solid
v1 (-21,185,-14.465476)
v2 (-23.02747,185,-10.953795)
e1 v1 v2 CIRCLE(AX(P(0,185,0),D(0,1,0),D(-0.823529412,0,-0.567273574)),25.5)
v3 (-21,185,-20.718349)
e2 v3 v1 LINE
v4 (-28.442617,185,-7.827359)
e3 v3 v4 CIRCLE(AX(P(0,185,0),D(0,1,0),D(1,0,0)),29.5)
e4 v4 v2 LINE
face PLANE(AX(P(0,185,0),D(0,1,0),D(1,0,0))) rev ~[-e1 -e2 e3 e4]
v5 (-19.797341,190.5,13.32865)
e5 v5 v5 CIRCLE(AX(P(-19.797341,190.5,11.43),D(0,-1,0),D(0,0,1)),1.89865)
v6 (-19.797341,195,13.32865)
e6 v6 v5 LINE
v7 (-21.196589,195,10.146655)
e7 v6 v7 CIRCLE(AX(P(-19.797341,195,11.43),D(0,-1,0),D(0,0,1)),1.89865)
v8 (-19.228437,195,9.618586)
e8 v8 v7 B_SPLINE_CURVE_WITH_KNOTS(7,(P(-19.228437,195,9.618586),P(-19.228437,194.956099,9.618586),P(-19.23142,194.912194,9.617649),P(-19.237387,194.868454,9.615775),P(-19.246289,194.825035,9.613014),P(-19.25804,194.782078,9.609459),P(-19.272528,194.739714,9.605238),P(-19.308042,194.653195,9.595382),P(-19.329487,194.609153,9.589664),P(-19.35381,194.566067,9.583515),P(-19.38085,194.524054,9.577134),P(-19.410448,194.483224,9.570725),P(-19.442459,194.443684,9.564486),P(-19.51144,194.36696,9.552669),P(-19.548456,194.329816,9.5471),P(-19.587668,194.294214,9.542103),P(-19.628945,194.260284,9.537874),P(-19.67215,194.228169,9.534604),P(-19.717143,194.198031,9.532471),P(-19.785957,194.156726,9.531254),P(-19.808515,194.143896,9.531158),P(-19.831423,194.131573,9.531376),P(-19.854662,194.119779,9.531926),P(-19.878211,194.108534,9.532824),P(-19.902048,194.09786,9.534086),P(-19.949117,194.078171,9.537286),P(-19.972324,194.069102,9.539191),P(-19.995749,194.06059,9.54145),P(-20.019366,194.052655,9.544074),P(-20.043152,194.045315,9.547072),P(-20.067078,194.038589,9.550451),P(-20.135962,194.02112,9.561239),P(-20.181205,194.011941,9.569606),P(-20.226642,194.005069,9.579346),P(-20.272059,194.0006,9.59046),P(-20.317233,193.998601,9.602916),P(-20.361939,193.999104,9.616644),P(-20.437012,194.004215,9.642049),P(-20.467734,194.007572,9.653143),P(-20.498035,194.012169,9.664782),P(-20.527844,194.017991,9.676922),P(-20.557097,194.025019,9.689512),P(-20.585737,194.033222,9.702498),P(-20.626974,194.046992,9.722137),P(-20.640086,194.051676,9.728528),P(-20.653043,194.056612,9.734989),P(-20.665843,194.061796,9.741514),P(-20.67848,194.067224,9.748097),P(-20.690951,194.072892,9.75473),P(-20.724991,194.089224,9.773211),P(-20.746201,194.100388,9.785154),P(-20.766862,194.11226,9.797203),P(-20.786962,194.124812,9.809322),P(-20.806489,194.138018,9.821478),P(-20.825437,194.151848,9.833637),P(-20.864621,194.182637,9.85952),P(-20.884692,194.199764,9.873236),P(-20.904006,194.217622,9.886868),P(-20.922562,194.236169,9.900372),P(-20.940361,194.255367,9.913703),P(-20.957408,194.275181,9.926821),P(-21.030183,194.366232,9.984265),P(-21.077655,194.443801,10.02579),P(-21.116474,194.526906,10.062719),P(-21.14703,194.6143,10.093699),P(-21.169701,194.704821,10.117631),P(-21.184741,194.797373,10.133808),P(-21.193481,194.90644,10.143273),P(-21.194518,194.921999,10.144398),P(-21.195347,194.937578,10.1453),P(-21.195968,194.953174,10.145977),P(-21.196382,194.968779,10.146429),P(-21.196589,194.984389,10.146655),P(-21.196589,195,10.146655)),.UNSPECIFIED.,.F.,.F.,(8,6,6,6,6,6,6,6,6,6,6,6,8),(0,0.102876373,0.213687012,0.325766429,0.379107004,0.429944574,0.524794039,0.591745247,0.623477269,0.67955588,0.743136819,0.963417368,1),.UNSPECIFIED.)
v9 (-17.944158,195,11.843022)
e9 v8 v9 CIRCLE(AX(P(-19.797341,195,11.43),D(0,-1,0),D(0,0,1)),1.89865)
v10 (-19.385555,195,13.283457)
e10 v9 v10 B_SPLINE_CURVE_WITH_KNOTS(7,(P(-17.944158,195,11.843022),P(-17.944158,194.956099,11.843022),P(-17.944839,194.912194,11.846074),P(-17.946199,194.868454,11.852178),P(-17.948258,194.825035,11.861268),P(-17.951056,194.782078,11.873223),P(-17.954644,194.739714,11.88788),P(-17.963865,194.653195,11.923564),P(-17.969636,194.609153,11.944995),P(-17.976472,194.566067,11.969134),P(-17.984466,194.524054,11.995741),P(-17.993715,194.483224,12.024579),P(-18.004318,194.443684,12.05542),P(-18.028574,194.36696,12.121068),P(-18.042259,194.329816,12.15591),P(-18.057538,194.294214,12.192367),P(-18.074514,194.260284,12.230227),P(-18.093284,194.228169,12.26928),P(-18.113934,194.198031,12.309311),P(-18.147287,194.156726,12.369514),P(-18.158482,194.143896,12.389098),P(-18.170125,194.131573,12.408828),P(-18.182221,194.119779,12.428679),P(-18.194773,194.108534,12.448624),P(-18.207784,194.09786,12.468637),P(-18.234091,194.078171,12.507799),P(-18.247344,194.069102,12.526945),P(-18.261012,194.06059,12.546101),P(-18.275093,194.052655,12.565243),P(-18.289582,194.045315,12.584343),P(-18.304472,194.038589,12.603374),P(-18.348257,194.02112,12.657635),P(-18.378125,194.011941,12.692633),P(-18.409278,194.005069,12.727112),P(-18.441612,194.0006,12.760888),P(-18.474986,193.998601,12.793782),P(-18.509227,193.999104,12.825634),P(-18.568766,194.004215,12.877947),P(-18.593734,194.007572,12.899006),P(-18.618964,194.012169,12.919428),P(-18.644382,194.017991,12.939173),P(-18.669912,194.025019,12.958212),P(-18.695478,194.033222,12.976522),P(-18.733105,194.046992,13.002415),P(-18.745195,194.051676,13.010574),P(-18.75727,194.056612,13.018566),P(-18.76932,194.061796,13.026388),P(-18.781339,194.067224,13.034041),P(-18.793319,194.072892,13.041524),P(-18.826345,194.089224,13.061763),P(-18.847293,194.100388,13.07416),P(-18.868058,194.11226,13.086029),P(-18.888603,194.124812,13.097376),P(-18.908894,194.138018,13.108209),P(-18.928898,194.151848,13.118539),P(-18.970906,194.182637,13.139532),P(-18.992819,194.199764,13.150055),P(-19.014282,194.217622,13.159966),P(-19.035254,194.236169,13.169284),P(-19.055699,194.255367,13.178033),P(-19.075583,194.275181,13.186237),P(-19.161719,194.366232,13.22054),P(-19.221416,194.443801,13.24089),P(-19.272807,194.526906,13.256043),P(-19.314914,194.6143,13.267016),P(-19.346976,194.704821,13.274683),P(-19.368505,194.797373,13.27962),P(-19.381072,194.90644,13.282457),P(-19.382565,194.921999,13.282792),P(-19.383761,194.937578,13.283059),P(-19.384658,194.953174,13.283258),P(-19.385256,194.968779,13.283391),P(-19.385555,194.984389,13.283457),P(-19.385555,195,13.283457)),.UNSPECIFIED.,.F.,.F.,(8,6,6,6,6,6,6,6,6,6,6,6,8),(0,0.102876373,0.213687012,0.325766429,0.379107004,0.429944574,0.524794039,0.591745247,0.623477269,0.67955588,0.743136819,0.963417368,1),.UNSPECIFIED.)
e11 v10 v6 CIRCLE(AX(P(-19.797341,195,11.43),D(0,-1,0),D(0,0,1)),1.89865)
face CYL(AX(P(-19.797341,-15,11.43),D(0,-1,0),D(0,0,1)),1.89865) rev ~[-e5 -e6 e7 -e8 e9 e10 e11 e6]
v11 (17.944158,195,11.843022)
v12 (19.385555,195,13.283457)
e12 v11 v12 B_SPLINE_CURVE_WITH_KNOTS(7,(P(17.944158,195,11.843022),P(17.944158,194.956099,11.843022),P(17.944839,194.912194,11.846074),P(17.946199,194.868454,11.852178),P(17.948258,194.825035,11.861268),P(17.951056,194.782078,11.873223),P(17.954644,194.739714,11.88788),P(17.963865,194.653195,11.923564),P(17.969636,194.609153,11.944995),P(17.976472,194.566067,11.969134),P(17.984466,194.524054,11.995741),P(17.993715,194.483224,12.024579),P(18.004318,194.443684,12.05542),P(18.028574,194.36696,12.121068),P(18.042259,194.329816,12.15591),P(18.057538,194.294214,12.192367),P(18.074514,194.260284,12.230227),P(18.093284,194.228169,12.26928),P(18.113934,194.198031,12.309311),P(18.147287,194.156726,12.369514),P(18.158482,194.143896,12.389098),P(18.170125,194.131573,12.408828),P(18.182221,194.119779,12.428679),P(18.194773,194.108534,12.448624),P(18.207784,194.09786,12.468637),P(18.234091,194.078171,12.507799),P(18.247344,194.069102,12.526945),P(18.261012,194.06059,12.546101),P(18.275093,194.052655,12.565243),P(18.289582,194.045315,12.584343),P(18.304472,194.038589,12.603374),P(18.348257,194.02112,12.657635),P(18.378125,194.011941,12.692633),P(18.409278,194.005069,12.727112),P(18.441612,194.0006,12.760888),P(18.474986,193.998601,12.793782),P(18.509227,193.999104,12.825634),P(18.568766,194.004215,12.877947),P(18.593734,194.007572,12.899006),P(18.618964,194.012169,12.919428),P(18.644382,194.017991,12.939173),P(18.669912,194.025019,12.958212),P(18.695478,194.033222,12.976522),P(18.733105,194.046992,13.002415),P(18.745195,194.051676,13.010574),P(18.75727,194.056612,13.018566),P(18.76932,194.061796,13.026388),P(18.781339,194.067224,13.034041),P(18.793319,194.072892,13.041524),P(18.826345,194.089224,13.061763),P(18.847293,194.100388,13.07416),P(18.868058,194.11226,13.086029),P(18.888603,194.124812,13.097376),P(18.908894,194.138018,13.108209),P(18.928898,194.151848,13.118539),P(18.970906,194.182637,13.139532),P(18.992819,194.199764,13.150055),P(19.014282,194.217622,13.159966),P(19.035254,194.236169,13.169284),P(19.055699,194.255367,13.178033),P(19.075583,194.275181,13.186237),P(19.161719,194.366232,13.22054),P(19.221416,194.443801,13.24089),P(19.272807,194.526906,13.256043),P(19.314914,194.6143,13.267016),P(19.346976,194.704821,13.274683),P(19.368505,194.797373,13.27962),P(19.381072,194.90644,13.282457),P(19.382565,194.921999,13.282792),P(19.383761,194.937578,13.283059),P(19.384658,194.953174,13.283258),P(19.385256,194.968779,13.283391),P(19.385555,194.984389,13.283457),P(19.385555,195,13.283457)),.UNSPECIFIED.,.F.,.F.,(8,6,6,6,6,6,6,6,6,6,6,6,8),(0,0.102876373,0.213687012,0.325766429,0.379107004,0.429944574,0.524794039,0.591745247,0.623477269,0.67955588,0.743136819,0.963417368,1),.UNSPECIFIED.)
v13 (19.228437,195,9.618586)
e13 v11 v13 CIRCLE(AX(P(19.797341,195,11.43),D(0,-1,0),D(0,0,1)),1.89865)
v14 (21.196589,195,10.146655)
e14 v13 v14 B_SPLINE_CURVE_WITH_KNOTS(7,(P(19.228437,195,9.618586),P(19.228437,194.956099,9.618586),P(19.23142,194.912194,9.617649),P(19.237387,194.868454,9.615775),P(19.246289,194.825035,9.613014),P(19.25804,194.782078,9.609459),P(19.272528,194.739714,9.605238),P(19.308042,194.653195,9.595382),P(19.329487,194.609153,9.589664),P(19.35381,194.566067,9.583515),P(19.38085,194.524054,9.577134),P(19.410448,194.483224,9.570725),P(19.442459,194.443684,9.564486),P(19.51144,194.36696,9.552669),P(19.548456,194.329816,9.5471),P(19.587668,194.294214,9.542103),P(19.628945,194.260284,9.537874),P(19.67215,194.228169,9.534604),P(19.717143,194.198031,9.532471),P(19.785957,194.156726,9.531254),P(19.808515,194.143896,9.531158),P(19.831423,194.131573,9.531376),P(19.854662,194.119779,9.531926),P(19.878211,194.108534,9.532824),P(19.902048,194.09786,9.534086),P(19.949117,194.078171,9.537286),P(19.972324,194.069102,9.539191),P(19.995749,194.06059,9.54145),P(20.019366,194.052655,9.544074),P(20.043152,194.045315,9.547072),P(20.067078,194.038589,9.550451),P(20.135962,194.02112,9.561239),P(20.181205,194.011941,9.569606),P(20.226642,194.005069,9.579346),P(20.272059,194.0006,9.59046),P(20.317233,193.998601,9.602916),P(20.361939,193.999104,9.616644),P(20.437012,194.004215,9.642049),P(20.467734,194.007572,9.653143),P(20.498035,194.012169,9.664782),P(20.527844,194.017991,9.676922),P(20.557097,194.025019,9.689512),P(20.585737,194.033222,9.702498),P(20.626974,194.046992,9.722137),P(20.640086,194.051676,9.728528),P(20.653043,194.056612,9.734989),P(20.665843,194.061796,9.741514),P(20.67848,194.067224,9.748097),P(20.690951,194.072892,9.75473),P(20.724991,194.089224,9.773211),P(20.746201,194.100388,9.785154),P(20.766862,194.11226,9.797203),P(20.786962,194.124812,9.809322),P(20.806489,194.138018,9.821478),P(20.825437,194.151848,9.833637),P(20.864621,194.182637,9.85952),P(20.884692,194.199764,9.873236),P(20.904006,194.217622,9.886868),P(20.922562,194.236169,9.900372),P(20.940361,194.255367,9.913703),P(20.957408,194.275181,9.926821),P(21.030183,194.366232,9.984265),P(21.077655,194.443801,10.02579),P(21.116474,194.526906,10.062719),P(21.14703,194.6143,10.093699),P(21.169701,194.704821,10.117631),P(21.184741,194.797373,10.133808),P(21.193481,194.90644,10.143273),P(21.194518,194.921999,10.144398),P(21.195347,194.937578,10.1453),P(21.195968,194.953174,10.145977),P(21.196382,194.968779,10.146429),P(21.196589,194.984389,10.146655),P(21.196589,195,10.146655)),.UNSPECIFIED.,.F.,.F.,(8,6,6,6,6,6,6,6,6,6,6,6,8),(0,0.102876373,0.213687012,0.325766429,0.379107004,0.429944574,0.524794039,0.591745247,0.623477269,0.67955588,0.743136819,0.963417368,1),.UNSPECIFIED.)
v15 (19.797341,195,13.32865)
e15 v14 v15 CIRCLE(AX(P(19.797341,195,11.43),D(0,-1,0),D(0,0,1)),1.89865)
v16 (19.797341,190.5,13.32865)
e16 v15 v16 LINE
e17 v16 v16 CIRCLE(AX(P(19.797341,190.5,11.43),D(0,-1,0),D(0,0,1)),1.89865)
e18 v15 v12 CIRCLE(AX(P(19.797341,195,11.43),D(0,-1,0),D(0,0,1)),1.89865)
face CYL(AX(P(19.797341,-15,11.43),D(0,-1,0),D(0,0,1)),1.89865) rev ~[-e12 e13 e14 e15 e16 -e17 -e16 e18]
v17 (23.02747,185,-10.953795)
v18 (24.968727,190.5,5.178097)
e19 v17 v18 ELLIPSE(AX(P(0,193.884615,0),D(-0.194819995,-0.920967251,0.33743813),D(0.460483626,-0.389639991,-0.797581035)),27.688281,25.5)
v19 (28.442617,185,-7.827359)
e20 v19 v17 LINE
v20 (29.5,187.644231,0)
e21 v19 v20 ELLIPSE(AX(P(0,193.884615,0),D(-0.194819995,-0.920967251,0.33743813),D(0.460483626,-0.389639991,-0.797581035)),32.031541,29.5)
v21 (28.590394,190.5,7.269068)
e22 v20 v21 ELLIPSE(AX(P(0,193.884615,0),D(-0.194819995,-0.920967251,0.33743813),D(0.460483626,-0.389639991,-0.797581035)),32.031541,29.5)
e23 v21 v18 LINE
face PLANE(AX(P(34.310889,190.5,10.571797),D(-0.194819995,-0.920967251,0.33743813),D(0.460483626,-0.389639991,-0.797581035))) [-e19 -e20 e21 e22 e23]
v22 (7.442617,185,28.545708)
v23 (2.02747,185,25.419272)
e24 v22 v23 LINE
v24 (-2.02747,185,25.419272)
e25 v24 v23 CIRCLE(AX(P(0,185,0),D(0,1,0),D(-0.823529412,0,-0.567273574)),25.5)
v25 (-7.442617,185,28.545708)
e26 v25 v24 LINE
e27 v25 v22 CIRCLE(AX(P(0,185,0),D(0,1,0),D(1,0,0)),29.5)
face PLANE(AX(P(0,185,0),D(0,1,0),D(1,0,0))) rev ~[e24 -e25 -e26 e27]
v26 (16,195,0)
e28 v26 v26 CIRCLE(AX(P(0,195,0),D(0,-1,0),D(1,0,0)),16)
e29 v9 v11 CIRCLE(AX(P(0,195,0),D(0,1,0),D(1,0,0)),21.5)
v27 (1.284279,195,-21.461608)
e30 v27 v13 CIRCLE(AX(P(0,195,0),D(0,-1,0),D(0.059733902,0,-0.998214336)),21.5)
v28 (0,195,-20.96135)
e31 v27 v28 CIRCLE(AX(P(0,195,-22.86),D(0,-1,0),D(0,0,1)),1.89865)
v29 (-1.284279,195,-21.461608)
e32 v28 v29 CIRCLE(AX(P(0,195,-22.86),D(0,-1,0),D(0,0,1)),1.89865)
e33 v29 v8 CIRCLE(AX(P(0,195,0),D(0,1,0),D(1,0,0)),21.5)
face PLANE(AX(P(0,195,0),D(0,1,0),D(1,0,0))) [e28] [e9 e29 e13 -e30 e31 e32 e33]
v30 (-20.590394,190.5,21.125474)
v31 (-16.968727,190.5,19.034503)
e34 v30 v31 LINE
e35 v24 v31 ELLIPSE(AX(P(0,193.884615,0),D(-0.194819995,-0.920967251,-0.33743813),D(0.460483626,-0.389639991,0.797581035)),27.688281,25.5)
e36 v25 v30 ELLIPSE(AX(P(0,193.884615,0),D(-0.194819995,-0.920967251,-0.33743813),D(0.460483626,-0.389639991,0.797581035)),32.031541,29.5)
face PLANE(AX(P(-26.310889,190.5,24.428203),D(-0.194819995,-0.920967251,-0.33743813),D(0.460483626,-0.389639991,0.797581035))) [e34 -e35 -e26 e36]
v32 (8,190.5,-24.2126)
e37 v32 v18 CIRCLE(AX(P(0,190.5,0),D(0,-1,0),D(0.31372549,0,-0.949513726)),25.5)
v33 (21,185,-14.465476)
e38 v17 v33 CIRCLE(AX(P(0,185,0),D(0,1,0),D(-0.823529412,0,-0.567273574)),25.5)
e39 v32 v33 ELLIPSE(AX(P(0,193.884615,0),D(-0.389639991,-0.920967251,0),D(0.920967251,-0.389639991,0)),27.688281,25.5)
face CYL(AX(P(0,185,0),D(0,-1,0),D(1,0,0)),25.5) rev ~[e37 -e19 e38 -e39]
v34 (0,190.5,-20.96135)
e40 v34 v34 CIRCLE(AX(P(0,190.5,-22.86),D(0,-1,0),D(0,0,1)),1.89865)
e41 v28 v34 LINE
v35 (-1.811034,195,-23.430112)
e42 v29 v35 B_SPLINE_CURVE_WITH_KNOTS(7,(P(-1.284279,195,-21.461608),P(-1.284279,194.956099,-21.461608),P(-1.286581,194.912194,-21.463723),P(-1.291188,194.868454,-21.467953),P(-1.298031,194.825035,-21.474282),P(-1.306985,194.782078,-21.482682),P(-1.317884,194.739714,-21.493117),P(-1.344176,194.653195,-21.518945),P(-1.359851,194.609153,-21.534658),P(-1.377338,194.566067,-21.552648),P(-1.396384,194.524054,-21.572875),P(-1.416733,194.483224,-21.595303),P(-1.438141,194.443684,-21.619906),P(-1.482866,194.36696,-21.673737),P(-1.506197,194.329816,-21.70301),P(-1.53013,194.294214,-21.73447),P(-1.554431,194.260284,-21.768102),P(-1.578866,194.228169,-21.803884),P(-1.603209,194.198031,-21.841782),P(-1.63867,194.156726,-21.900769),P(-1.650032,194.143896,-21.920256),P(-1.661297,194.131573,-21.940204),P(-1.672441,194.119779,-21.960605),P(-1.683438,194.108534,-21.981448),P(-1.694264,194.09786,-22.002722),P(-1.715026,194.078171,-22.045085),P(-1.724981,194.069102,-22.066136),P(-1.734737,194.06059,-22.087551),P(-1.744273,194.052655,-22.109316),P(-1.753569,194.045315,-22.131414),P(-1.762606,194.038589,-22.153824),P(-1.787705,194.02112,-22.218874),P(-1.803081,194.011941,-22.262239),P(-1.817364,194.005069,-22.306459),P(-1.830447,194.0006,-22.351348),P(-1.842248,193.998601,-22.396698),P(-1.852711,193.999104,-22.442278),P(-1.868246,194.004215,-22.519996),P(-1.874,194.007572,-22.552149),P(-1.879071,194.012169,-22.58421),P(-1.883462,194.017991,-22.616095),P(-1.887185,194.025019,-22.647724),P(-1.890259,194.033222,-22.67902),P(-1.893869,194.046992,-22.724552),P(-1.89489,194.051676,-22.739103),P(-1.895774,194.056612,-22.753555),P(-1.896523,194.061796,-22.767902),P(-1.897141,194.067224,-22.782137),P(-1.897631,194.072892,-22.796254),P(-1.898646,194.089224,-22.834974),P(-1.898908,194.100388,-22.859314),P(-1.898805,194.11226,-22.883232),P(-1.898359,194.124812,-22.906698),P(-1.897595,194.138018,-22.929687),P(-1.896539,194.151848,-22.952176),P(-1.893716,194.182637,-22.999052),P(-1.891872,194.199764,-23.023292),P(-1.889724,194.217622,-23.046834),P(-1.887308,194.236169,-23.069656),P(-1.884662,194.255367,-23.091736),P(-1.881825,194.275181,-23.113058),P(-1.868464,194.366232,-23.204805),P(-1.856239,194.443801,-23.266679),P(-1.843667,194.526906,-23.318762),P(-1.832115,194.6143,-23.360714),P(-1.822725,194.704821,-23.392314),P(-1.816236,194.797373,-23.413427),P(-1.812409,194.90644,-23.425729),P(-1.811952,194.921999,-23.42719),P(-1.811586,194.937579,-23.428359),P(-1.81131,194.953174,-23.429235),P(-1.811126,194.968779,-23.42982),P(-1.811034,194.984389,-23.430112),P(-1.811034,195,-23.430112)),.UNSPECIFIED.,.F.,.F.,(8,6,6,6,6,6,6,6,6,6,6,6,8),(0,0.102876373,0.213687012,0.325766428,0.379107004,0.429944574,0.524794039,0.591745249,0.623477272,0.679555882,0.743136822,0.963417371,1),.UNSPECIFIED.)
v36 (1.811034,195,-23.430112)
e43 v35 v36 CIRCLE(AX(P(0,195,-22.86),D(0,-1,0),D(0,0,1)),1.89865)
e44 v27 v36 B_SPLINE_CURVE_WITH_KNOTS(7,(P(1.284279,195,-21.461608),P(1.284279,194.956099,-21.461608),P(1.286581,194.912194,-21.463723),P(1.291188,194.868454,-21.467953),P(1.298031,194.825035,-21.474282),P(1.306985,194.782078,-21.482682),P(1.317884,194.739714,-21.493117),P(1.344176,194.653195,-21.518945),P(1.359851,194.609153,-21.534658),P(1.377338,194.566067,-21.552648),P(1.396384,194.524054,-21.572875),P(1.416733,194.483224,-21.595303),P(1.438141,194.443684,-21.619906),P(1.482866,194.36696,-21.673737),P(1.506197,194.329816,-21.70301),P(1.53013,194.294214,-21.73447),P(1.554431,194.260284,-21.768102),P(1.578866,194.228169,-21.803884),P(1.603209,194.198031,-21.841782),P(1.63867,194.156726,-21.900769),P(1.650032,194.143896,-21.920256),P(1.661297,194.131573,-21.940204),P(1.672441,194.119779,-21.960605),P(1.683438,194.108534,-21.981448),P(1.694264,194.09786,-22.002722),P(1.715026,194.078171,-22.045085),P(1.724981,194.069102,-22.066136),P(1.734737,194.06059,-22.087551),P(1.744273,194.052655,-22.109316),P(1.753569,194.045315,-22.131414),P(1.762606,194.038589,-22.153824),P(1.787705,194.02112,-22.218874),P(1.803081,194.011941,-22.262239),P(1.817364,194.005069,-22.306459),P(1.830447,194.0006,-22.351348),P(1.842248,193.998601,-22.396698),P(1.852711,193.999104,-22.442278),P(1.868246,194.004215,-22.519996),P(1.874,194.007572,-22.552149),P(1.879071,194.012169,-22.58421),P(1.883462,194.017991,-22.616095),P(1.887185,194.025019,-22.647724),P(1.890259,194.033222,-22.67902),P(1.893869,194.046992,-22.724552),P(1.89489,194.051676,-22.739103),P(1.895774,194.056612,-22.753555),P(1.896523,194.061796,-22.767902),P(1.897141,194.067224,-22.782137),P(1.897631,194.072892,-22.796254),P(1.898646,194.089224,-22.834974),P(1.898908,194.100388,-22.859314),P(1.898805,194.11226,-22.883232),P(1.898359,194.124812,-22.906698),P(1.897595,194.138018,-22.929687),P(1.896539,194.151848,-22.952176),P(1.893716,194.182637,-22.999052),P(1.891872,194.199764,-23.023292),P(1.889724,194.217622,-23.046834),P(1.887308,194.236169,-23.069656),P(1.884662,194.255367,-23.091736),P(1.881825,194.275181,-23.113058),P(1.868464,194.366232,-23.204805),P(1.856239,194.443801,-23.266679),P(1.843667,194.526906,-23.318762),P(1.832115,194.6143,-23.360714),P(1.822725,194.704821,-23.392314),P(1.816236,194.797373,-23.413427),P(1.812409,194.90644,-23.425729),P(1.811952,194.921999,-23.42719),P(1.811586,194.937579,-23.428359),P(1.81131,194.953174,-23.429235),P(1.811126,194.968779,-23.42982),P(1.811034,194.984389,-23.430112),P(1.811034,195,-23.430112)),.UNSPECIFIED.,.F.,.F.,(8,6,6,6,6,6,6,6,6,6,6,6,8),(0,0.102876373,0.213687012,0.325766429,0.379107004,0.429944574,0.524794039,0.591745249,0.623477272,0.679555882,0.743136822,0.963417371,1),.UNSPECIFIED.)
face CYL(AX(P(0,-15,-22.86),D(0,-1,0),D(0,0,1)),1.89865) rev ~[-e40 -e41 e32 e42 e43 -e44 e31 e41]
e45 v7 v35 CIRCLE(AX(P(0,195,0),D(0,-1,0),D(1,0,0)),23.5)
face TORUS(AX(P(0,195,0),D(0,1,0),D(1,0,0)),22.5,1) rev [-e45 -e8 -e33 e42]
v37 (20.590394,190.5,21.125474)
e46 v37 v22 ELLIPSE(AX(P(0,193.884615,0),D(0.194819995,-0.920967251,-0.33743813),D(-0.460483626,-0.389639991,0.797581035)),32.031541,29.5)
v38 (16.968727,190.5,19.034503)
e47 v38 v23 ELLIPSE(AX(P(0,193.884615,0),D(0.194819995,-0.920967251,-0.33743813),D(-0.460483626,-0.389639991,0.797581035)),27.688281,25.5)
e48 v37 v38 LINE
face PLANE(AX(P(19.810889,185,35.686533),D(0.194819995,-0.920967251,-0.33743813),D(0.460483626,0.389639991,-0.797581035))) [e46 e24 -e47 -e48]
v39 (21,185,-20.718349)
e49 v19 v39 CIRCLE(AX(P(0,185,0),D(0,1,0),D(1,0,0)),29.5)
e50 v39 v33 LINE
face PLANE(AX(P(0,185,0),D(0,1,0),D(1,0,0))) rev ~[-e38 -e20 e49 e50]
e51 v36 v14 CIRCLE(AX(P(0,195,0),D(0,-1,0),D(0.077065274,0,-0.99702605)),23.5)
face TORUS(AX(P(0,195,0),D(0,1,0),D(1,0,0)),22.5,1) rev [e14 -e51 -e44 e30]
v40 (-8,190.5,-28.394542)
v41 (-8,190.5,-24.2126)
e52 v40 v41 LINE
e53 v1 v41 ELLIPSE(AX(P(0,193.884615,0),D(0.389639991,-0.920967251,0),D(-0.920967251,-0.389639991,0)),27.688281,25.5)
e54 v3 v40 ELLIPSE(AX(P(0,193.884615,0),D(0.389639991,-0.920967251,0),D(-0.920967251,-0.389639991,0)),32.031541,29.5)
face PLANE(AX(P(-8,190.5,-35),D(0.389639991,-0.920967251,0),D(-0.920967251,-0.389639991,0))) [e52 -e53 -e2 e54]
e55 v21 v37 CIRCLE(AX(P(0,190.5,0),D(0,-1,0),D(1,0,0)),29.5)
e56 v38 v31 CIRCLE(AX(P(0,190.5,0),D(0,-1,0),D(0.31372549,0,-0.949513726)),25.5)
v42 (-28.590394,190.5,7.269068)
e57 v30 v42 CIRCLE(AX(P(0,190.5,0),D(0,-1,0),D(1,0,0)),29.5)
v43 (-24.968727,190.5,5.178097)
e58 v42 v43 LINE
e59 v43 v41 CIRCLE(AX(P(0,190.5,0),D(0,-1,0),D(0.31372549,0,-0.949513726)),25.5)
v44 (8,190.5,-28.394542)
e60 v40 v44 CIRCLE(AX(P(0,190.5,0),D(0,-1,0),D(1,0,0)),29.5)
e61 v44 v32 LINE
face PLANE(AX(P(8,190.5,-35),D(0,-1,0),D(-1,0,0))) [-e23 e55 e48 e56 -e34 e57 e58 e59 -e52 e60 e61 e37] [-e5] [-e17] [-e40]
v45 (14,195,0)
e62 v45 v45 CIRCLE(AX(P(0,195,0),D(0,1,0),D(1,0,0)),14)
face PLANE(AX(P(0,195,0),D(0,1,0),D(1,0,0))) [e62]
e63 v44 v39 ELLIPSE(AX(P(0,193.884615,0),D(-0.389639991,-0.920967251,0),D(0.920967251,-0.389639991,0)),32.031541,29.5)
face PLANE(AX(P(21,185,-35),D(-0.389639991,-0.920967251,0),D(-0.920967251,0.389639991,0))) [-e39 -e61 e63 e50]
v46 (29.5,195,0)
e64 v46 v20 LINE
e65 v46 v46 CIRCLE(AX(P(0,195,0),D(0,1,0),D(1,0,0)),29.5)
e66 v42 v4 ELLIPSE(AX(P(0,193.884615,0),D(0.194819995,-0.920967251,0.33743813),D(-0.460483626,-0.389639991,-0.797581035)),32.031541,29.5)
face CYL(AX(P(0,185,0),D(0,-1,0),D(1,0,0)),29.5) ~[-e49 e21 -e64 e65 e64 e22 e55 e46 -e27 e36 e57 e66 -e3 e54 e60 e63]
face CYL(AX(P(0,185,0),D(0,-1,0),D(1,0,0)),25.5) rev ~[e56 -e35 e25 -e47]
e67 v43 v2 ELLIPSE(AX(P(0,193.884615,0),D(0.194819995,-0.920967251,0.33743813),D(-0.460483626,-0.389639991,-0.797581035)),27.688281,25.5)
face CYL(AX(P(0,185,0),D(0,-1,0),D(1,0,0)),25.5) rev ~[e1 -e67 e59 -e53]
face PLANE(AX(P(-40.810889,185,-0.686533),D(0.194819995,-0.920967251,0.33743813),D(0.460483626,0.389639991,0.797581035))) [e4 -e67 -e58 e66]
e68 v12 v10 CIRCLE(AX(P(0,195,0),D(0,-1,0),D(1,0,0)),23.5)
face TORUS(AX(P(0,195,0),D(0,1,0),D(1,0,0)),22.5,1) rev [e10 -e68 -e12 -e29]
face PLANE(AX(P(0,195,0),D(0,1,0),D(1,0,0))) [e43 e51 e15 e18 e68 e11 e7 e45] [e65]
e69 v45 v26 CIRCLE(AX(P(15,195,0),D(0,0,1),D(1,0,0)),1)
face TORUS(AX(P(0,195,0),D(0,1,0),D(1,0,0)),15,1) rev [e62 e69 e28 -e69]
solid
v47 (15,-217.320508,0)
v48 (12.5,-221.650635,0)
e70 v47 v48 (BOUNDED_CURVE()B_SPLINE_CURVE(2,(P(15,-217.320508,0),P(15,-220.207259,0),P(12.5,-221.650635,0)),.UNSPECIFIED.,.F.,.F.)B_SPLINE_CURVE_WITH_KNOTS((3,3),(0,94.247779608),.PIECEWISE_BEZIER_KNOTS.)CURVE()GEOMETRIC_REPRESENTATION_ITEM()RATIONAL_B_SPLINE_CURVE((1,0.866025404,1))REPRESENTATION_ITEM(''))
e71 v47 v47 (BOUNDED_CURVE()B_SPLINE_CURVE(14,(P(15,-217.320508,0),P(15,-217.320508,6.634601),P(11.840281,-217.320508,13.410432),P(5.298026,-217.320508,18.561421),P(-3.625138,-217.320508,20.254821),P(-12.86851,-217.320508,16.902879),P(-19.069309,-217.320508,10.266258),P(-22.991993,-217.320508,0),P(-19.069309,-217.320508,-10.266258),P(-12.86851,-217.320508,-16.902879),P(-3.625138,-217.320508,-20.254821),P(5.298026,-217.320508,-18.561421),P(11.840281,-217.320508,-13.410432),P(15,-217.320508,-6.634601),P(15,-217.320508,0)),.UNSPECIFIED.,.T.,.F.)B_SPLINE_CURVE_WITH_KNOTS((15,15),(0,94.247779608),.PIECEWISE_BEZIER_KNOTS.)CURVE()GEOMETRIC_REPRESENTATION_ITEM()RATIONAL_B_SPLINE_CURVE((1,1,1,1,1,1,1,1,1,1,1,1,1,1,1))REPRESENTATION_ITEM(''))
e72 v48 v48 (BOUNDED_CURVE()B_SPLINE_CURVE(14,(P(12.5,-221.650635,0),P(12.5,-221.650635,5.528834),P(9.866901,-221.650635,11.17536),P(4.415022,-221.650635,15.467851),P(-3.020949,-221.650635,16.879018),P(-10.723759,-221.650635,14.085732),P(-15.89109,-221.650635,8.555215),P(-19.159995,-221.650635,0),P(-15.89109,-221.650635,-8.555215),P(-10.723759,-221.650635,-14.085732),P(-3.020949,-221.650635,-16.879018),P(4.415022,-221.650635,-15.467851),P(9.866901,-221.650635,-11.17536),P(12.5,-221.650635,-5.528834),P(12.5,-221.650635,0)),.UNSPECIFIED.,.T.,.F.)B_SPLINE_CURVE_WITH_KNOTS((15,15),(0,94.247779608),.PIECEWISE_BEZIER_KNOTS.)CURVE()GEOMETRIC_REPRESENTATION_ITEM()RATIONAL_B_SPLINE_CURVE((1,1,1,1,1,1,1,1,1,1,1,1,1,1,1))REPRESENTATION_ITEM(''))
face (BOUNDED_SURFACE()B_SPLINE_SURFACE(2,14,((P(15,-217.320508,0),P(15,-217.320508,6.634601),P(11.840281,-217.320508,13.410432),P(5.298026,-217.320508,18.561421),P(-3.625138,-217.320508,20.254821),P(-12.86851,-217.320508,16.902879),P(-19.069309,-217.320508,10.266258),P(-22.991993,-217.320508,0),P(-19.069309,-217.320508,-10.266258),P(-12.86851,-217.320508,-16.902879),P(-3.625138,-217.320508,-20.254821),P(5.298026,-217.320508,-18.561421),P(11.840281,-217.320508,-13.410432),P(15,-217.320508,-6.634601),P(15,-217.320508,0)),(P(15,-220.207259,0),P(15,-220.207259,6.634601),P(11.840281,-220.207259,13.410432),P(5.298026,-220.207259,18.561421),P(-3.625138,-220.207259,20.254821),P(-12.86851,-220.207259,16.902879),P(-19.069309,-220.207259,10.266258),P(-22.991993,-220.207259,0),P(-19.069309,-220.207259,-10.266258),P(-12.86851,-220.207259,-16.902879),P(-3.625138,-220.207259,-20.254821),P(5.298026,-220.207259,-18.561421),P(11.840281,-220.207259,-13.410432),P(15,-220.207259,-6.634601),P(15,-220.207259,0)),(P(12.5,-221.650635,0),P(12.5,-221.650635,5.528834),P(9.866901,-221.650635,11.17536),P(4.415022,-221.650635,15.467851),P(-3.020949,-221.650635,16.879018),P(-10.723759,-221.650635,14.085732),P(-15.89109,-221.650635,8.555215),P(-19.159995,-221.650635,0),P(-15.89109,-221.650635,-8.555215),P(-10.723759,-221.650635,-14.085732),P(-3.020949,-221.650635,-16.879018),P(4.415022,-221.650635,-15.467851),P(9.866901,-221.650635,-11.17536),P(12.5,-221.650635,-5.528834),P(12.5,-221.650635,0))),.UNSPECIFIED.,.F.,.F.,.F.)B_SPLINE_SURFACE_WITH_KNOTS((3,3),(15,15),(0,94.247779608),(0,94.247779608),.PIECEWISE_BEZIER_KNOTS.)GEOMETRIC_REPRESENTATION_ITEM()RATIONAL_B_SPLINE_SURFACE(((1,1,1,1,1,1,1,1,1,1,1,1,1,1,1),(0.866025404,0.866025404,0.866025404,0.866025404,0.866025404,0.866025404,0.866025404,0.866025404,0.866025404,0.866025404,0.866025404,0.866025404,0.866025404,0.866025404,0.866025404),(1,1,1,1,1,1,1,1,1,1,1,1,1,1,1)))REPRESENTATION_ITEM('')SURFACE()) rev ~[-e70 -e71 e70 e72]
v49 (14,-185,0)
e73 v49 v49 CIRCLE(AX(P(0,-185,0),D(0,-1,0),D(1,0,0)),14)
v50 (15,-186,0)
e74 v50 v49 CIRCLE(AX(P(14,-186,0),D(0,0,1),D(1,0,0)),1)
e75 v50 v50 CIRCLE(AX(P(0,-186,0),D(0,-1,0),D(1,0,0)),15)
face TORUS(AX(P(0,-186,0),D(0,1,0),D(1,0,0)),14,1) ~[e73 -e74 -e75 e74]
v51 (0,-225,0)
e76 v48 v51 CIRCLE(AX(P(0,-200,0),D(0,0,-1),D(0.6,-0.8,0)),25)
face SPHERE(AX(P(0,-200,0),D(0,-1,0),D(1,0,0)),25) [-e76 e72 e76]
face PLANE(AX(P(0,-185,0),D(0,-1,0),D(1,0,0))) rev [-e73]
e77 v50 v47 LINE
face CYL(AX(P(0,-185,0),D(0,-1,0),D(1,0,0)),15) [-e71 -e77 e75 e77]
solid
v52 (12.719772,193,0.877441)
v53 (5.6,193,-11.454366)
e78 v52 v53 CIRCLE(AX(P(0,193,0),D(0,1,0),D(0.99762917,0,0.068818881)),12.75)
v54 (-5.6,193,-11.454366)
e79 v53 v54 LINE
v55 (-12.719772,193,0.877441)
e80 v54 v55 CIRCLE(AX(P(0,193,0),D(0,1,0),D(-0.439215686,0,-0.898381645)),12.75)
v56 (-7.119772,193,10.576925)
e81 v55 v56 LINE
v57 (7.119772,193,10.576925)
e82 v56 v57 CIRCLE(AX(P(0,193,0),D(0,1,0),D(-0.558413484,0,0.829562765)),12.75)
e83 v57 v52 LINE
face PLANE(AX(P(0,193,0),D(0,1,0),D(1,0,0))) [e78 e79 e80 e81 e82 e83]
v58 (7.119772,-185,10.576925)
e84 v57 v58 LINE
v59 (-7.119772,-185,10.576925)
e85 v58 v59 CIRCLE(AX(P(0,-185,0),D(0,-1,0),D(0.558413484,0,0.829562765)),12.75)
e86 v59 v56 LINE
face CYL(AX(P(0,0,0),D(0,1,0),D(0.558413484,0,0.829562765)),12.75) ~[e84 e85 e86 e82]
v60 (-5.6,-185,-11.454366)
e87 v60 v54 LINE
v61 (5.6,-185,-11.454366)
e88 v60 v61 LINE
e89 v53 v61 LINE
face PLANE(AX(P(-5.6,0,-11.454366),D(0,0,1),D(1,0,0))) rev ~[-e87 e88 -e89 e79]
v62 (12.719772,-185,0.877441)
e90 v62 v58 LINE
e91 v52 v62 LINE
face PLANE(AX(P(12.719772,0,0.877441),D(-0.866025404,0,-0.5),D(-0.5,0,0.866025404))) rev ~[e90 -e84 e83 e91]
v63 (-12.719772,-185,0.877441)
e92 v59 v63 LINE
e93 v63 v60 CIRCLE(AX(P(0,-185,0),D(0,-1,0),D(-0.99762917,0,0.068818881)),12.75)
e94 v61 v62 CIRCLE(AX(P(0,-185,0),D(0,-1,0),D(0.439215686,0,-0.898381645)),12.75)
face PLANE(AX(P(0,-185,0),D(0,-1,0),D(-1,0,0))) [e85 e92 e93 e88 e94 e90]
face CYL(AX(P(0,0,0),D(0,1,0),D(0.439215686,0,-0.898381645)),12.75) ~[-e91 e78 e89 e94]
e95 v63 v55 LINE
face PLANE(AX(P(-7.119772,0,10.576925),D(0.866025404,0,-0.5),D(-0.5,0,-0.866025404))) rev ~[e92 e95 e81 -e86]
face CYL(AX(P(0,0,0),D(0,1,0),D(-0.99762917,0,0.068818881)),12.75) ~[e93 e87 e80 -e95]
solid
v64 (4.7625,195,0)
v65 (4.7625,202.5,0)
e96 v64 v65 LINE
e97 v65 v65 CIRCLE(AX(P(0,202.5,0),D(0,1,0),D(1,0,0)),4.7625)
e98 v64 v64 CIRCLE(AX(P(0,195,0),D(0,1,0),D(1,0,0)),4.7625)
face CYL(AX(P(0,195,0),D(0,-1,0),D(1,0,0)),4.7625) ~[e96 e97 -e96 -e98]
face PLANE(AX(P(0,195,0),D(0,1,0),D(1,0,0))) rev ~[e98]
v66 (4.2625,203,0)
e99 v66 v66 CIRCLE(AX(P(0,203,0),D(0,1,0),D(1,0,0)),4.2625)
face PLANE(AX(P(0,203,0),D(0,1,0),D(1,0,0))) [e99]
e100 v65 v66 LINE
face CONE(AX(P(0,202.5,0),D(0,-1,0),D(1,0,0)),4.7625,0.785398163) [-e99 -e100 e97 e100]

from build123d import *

# Parameters (mm, degrees)
EXTRUDE1_DEPTH                  = 185
SKETCH3_R                       = 29.5
EXTRUDE2_DEPTH                  = 10
SKETCH7_R                       = 1
SKETCH6_OUTSIDE_W               = 138.81
SKETCH6_OUTSIDE_H               = 138.81
SKETCH6_OUTSIDE_R               = 29.5
SKETCH6_OUTSIDE_R_2             = 25.5
EXTRUDE4_DEPTH                  = 5.5
EXTRUDE3_DEPTH                  = 23
CIRPATTERN1_COUNT               = 3
SKETCH8_R                       = 4.7625
EXTRUDE5_DEPTH                  = 8
CHAMFER1_SIZE                   = 0.5
EXTRUDE6_DEPTH                  = 8
FILLET1_R                       = 5
FILLET2_R                       = 1
SKETCH13_W                      = 1.89865
SKETCH13_H                      = 420
F_10_24_TAPPED_HOLE1_AT_2_COUNT = 2
F_10_24_TAPPED_HOLE1_AT_2_PITCH = 39.594681461
F_10_24_TAPPED_HOLE1_AT_3_COUNT = 2
F_10_24_TAPPED_HOLE1_AT_3_PITCH = 39.594681461


with BuildPart() as part:
    # Sketch2 → Extrude1 (new body, symmetric)
    with BuildSketch(Plane(origin=(0, 0, 0), x_dir=(1, 0, 0), z_dir=(0, 1, 0))):
        with BuildLine():
            Line((-5.6, 11.45436598), (5.6, 11.45436598))
            ThreePointArc((5.6, 11.45436598), (11.041823898, 6.375), (12.719771923, -0.877440729))
            Line((12.719771923, -0.877440729), (7.119771923, -10.576925251))
            ThreePointArc((7.119771923, -10.576925251), (0, -12.75), (-7.119771923, -10.576925251))
            Line((-7.119771923, -10.576925251), (-12.719771923, -0.877440729))
            ThreePointArc((-12.719771923, -0.877440729), (-11.041823898, 6.375), (-5.6, 11.45436598))
        make_face()
    extrude(amount=EXTRUDE1_DEPTH, both=True)


with BuildPart() as body_2:
    # Sketch3 → Extrude2 (new body)
    with BuildSketch(Plane(origin=(0, 185, 0), x_dir=(1, 0, 0), z_dir=(0, 1, 0))):
        Circle(SKETCH3_R)
    extrude(amount=EXTRUDE2_DEPTH)

    # Sketch7 → Cut-Revolve1 (revolve, cut)
    with BuildSketch(Plane.XY):
        with Locations((15, 195)):
            Circle(SKETCH7_R)
        with Locations((22.5, 195)):
            Circle(SKETCH7_R)
    revolve(axis=Axis((0, 203.822792645, 0), (0, -1, 0)), mode=Mode.SUBTRACT)

    # Sketch6 outside → Extrude4 (cut)
    with BuildSketch(Plane.XZ.offset(-185)):
        Rectangle(SKETCH6_OUTSIDE_W, SKETCH6_OUTSIDE_H)
        Circle(SKETCH6_OUTSIDE_R, mode=Mode.SUBTRACT)
        Circle(SKETCH6_OUTSIDE_R_2)
    extrude(amount=-EXTRUDE4_DEPTH, mode=Mode.SUBTRACT)

    # Sketch4 → Extrude3 (cut)
    with BuildSketch(Plane.XY.offset(-35)):
        Polygon((8, 190.5), (-8, 190.5), (-21, 185), (21, 185), align=None)
    extrude3 = extrude(amount=EXTRUDE3_DEPTH, mode=Mode.SUBTRACT)

    # CirPattern1: Extrude3 ×3 about axis
    cirpattern1_axis = Axis((0, 0, 0), (0, 1, 0))
    for i in range(1, CIRPATTERN1_COUNT):
        add(extrude3.rotate(cirpattern1_axis, i * 360 / CIRPATTERN1_COUNT), mode=Mode.SUBTRACT)

    # Sketch13 → #10-24 Tapped Hole1 (revolve, cut)
    with BuildSketch(Plane(origin=(0, 195, -22.86), x_dir=(0, 0, 1), z_dir=(1, 0, 0))):
        with Locations((0.949325, 210)):
            Rectangle(SKETCH13_W, SKETCH13_H)
    f_10_24_tapped_hole1 = revolve(axis=Axis((0, 201.35, -22.86), (0, -1, 0)), mode=Mode.SUBTRACT)

    # #10-24 Tapped Hole1 at 2: #10-24 Tapped Hole1 ×2
    with Locations(*[Vector(0.5, 0, 0.866025404) * (i * F_10_24_TAPPED_HOLE1_AT_2_PITCH) for i in range(1, F_10_24_TAPPED_HOLE1_AT_2_COUNT)]):
        add(f_10_24_tapped_hole1, mode=Mode.SUBTRACT)

    # #10-24 Tapped Hole1 at 3: #10-24 Tapped Hole1 ×2
    with Locations(*[Vector(-0.5, 0, 0.866025404) * (i * F_10_24_TAPPED_HOLE1_AT_3_PITCH) for i in range(1, F_10_24_TAPPED_HOLE1_AT_3_COUNT)]):
        add(f_10_24_tapped_hole1, mode=Mode.SUBTRACT)


with BuildPart() as body_3:
    # Sketch8 → Extrude5 (new body)
    with BuildSketch(Plane(origin=(0, 195, 0), x_dir=(1, 0, 0), z_dir=(0, 1, 0))):
        Circle(SKETCH8_R)
    extrude(amount=EXTRUDE5_DEPTH)

    # Chamfer1
    chamfer1_edges = [body_3.edges().sort_by_distance(p)[0] for p in [
        (-4.7625, 203, 0),
    ]]
    chamfer(chamfer1_edges, length=CHAMFER1_SIZE)


with BuildPart() as body_4:
    # Sketch9 → Extrude6 (new body)
    with BuildSketch(Plane(origin=(0, 185, 0), x_dir=(1, 0, 0), z_dir=(0, 1, 0))):
        with BuildLine():
            Line((-12.719771923, -0.877440729), (-7.119771923, -10.576925251))
            ThreePointArc((-7.119771923, -10.576925251), (0, -12.75), (7.119771923, -10.576925251))
            Line((7.119771923, -10.576925251), (12.719771923, -0.877440729))
            ThreePointArc((12.719771923, -0.877440729), (11.041823898, 6.375), (5.6, 11.45436598))
            Line((5.6, 11.45436598), (-5.6, 11.45436598))
            ThreePointArc((-5.6, 11.45436598), (-11.041823898, 6.375), (-12.719771923, -0.877440729))
        make_face()
    extrude(amount=EXTRUDE6_DEPTH)

    # Combine1: union part
    add(part.part)


with BuildPart() as body_5:
    # Sketch10 → Revolve1 (revolve)
    with BuildSketch(Plane.XY):
        with BuildLine():
            Line((15, -185), (15, -220))
            ThreePointArc((15, -220), (7.90569415, -223.717082451), (0, -225))
            Line((0, -225), (0, -185))
            Line((0, -185), (15, -185))
        make_face()
    revolve(axis=Axis((0, -185, 0), (0, -1, 0)))

    # Fillet1
    fillet1_edges = [body_5.edges().sort_by_distance(p)[0] for p in [
        (-15, -220, 0),
    ]]
    fillet(fillet1_edges, radius=FILLET1_R)

    # Fillet2
    fillet2_edges = [body_5.edges().sort_by_distance(p)[0] for p in [
        (-15, -185, 0),
    ]]
    fillet(fillet2_edges, radius=FILLET2_R)


solid = Compound([body_2.part, body_3.part, body_4.part, body_5.part])
